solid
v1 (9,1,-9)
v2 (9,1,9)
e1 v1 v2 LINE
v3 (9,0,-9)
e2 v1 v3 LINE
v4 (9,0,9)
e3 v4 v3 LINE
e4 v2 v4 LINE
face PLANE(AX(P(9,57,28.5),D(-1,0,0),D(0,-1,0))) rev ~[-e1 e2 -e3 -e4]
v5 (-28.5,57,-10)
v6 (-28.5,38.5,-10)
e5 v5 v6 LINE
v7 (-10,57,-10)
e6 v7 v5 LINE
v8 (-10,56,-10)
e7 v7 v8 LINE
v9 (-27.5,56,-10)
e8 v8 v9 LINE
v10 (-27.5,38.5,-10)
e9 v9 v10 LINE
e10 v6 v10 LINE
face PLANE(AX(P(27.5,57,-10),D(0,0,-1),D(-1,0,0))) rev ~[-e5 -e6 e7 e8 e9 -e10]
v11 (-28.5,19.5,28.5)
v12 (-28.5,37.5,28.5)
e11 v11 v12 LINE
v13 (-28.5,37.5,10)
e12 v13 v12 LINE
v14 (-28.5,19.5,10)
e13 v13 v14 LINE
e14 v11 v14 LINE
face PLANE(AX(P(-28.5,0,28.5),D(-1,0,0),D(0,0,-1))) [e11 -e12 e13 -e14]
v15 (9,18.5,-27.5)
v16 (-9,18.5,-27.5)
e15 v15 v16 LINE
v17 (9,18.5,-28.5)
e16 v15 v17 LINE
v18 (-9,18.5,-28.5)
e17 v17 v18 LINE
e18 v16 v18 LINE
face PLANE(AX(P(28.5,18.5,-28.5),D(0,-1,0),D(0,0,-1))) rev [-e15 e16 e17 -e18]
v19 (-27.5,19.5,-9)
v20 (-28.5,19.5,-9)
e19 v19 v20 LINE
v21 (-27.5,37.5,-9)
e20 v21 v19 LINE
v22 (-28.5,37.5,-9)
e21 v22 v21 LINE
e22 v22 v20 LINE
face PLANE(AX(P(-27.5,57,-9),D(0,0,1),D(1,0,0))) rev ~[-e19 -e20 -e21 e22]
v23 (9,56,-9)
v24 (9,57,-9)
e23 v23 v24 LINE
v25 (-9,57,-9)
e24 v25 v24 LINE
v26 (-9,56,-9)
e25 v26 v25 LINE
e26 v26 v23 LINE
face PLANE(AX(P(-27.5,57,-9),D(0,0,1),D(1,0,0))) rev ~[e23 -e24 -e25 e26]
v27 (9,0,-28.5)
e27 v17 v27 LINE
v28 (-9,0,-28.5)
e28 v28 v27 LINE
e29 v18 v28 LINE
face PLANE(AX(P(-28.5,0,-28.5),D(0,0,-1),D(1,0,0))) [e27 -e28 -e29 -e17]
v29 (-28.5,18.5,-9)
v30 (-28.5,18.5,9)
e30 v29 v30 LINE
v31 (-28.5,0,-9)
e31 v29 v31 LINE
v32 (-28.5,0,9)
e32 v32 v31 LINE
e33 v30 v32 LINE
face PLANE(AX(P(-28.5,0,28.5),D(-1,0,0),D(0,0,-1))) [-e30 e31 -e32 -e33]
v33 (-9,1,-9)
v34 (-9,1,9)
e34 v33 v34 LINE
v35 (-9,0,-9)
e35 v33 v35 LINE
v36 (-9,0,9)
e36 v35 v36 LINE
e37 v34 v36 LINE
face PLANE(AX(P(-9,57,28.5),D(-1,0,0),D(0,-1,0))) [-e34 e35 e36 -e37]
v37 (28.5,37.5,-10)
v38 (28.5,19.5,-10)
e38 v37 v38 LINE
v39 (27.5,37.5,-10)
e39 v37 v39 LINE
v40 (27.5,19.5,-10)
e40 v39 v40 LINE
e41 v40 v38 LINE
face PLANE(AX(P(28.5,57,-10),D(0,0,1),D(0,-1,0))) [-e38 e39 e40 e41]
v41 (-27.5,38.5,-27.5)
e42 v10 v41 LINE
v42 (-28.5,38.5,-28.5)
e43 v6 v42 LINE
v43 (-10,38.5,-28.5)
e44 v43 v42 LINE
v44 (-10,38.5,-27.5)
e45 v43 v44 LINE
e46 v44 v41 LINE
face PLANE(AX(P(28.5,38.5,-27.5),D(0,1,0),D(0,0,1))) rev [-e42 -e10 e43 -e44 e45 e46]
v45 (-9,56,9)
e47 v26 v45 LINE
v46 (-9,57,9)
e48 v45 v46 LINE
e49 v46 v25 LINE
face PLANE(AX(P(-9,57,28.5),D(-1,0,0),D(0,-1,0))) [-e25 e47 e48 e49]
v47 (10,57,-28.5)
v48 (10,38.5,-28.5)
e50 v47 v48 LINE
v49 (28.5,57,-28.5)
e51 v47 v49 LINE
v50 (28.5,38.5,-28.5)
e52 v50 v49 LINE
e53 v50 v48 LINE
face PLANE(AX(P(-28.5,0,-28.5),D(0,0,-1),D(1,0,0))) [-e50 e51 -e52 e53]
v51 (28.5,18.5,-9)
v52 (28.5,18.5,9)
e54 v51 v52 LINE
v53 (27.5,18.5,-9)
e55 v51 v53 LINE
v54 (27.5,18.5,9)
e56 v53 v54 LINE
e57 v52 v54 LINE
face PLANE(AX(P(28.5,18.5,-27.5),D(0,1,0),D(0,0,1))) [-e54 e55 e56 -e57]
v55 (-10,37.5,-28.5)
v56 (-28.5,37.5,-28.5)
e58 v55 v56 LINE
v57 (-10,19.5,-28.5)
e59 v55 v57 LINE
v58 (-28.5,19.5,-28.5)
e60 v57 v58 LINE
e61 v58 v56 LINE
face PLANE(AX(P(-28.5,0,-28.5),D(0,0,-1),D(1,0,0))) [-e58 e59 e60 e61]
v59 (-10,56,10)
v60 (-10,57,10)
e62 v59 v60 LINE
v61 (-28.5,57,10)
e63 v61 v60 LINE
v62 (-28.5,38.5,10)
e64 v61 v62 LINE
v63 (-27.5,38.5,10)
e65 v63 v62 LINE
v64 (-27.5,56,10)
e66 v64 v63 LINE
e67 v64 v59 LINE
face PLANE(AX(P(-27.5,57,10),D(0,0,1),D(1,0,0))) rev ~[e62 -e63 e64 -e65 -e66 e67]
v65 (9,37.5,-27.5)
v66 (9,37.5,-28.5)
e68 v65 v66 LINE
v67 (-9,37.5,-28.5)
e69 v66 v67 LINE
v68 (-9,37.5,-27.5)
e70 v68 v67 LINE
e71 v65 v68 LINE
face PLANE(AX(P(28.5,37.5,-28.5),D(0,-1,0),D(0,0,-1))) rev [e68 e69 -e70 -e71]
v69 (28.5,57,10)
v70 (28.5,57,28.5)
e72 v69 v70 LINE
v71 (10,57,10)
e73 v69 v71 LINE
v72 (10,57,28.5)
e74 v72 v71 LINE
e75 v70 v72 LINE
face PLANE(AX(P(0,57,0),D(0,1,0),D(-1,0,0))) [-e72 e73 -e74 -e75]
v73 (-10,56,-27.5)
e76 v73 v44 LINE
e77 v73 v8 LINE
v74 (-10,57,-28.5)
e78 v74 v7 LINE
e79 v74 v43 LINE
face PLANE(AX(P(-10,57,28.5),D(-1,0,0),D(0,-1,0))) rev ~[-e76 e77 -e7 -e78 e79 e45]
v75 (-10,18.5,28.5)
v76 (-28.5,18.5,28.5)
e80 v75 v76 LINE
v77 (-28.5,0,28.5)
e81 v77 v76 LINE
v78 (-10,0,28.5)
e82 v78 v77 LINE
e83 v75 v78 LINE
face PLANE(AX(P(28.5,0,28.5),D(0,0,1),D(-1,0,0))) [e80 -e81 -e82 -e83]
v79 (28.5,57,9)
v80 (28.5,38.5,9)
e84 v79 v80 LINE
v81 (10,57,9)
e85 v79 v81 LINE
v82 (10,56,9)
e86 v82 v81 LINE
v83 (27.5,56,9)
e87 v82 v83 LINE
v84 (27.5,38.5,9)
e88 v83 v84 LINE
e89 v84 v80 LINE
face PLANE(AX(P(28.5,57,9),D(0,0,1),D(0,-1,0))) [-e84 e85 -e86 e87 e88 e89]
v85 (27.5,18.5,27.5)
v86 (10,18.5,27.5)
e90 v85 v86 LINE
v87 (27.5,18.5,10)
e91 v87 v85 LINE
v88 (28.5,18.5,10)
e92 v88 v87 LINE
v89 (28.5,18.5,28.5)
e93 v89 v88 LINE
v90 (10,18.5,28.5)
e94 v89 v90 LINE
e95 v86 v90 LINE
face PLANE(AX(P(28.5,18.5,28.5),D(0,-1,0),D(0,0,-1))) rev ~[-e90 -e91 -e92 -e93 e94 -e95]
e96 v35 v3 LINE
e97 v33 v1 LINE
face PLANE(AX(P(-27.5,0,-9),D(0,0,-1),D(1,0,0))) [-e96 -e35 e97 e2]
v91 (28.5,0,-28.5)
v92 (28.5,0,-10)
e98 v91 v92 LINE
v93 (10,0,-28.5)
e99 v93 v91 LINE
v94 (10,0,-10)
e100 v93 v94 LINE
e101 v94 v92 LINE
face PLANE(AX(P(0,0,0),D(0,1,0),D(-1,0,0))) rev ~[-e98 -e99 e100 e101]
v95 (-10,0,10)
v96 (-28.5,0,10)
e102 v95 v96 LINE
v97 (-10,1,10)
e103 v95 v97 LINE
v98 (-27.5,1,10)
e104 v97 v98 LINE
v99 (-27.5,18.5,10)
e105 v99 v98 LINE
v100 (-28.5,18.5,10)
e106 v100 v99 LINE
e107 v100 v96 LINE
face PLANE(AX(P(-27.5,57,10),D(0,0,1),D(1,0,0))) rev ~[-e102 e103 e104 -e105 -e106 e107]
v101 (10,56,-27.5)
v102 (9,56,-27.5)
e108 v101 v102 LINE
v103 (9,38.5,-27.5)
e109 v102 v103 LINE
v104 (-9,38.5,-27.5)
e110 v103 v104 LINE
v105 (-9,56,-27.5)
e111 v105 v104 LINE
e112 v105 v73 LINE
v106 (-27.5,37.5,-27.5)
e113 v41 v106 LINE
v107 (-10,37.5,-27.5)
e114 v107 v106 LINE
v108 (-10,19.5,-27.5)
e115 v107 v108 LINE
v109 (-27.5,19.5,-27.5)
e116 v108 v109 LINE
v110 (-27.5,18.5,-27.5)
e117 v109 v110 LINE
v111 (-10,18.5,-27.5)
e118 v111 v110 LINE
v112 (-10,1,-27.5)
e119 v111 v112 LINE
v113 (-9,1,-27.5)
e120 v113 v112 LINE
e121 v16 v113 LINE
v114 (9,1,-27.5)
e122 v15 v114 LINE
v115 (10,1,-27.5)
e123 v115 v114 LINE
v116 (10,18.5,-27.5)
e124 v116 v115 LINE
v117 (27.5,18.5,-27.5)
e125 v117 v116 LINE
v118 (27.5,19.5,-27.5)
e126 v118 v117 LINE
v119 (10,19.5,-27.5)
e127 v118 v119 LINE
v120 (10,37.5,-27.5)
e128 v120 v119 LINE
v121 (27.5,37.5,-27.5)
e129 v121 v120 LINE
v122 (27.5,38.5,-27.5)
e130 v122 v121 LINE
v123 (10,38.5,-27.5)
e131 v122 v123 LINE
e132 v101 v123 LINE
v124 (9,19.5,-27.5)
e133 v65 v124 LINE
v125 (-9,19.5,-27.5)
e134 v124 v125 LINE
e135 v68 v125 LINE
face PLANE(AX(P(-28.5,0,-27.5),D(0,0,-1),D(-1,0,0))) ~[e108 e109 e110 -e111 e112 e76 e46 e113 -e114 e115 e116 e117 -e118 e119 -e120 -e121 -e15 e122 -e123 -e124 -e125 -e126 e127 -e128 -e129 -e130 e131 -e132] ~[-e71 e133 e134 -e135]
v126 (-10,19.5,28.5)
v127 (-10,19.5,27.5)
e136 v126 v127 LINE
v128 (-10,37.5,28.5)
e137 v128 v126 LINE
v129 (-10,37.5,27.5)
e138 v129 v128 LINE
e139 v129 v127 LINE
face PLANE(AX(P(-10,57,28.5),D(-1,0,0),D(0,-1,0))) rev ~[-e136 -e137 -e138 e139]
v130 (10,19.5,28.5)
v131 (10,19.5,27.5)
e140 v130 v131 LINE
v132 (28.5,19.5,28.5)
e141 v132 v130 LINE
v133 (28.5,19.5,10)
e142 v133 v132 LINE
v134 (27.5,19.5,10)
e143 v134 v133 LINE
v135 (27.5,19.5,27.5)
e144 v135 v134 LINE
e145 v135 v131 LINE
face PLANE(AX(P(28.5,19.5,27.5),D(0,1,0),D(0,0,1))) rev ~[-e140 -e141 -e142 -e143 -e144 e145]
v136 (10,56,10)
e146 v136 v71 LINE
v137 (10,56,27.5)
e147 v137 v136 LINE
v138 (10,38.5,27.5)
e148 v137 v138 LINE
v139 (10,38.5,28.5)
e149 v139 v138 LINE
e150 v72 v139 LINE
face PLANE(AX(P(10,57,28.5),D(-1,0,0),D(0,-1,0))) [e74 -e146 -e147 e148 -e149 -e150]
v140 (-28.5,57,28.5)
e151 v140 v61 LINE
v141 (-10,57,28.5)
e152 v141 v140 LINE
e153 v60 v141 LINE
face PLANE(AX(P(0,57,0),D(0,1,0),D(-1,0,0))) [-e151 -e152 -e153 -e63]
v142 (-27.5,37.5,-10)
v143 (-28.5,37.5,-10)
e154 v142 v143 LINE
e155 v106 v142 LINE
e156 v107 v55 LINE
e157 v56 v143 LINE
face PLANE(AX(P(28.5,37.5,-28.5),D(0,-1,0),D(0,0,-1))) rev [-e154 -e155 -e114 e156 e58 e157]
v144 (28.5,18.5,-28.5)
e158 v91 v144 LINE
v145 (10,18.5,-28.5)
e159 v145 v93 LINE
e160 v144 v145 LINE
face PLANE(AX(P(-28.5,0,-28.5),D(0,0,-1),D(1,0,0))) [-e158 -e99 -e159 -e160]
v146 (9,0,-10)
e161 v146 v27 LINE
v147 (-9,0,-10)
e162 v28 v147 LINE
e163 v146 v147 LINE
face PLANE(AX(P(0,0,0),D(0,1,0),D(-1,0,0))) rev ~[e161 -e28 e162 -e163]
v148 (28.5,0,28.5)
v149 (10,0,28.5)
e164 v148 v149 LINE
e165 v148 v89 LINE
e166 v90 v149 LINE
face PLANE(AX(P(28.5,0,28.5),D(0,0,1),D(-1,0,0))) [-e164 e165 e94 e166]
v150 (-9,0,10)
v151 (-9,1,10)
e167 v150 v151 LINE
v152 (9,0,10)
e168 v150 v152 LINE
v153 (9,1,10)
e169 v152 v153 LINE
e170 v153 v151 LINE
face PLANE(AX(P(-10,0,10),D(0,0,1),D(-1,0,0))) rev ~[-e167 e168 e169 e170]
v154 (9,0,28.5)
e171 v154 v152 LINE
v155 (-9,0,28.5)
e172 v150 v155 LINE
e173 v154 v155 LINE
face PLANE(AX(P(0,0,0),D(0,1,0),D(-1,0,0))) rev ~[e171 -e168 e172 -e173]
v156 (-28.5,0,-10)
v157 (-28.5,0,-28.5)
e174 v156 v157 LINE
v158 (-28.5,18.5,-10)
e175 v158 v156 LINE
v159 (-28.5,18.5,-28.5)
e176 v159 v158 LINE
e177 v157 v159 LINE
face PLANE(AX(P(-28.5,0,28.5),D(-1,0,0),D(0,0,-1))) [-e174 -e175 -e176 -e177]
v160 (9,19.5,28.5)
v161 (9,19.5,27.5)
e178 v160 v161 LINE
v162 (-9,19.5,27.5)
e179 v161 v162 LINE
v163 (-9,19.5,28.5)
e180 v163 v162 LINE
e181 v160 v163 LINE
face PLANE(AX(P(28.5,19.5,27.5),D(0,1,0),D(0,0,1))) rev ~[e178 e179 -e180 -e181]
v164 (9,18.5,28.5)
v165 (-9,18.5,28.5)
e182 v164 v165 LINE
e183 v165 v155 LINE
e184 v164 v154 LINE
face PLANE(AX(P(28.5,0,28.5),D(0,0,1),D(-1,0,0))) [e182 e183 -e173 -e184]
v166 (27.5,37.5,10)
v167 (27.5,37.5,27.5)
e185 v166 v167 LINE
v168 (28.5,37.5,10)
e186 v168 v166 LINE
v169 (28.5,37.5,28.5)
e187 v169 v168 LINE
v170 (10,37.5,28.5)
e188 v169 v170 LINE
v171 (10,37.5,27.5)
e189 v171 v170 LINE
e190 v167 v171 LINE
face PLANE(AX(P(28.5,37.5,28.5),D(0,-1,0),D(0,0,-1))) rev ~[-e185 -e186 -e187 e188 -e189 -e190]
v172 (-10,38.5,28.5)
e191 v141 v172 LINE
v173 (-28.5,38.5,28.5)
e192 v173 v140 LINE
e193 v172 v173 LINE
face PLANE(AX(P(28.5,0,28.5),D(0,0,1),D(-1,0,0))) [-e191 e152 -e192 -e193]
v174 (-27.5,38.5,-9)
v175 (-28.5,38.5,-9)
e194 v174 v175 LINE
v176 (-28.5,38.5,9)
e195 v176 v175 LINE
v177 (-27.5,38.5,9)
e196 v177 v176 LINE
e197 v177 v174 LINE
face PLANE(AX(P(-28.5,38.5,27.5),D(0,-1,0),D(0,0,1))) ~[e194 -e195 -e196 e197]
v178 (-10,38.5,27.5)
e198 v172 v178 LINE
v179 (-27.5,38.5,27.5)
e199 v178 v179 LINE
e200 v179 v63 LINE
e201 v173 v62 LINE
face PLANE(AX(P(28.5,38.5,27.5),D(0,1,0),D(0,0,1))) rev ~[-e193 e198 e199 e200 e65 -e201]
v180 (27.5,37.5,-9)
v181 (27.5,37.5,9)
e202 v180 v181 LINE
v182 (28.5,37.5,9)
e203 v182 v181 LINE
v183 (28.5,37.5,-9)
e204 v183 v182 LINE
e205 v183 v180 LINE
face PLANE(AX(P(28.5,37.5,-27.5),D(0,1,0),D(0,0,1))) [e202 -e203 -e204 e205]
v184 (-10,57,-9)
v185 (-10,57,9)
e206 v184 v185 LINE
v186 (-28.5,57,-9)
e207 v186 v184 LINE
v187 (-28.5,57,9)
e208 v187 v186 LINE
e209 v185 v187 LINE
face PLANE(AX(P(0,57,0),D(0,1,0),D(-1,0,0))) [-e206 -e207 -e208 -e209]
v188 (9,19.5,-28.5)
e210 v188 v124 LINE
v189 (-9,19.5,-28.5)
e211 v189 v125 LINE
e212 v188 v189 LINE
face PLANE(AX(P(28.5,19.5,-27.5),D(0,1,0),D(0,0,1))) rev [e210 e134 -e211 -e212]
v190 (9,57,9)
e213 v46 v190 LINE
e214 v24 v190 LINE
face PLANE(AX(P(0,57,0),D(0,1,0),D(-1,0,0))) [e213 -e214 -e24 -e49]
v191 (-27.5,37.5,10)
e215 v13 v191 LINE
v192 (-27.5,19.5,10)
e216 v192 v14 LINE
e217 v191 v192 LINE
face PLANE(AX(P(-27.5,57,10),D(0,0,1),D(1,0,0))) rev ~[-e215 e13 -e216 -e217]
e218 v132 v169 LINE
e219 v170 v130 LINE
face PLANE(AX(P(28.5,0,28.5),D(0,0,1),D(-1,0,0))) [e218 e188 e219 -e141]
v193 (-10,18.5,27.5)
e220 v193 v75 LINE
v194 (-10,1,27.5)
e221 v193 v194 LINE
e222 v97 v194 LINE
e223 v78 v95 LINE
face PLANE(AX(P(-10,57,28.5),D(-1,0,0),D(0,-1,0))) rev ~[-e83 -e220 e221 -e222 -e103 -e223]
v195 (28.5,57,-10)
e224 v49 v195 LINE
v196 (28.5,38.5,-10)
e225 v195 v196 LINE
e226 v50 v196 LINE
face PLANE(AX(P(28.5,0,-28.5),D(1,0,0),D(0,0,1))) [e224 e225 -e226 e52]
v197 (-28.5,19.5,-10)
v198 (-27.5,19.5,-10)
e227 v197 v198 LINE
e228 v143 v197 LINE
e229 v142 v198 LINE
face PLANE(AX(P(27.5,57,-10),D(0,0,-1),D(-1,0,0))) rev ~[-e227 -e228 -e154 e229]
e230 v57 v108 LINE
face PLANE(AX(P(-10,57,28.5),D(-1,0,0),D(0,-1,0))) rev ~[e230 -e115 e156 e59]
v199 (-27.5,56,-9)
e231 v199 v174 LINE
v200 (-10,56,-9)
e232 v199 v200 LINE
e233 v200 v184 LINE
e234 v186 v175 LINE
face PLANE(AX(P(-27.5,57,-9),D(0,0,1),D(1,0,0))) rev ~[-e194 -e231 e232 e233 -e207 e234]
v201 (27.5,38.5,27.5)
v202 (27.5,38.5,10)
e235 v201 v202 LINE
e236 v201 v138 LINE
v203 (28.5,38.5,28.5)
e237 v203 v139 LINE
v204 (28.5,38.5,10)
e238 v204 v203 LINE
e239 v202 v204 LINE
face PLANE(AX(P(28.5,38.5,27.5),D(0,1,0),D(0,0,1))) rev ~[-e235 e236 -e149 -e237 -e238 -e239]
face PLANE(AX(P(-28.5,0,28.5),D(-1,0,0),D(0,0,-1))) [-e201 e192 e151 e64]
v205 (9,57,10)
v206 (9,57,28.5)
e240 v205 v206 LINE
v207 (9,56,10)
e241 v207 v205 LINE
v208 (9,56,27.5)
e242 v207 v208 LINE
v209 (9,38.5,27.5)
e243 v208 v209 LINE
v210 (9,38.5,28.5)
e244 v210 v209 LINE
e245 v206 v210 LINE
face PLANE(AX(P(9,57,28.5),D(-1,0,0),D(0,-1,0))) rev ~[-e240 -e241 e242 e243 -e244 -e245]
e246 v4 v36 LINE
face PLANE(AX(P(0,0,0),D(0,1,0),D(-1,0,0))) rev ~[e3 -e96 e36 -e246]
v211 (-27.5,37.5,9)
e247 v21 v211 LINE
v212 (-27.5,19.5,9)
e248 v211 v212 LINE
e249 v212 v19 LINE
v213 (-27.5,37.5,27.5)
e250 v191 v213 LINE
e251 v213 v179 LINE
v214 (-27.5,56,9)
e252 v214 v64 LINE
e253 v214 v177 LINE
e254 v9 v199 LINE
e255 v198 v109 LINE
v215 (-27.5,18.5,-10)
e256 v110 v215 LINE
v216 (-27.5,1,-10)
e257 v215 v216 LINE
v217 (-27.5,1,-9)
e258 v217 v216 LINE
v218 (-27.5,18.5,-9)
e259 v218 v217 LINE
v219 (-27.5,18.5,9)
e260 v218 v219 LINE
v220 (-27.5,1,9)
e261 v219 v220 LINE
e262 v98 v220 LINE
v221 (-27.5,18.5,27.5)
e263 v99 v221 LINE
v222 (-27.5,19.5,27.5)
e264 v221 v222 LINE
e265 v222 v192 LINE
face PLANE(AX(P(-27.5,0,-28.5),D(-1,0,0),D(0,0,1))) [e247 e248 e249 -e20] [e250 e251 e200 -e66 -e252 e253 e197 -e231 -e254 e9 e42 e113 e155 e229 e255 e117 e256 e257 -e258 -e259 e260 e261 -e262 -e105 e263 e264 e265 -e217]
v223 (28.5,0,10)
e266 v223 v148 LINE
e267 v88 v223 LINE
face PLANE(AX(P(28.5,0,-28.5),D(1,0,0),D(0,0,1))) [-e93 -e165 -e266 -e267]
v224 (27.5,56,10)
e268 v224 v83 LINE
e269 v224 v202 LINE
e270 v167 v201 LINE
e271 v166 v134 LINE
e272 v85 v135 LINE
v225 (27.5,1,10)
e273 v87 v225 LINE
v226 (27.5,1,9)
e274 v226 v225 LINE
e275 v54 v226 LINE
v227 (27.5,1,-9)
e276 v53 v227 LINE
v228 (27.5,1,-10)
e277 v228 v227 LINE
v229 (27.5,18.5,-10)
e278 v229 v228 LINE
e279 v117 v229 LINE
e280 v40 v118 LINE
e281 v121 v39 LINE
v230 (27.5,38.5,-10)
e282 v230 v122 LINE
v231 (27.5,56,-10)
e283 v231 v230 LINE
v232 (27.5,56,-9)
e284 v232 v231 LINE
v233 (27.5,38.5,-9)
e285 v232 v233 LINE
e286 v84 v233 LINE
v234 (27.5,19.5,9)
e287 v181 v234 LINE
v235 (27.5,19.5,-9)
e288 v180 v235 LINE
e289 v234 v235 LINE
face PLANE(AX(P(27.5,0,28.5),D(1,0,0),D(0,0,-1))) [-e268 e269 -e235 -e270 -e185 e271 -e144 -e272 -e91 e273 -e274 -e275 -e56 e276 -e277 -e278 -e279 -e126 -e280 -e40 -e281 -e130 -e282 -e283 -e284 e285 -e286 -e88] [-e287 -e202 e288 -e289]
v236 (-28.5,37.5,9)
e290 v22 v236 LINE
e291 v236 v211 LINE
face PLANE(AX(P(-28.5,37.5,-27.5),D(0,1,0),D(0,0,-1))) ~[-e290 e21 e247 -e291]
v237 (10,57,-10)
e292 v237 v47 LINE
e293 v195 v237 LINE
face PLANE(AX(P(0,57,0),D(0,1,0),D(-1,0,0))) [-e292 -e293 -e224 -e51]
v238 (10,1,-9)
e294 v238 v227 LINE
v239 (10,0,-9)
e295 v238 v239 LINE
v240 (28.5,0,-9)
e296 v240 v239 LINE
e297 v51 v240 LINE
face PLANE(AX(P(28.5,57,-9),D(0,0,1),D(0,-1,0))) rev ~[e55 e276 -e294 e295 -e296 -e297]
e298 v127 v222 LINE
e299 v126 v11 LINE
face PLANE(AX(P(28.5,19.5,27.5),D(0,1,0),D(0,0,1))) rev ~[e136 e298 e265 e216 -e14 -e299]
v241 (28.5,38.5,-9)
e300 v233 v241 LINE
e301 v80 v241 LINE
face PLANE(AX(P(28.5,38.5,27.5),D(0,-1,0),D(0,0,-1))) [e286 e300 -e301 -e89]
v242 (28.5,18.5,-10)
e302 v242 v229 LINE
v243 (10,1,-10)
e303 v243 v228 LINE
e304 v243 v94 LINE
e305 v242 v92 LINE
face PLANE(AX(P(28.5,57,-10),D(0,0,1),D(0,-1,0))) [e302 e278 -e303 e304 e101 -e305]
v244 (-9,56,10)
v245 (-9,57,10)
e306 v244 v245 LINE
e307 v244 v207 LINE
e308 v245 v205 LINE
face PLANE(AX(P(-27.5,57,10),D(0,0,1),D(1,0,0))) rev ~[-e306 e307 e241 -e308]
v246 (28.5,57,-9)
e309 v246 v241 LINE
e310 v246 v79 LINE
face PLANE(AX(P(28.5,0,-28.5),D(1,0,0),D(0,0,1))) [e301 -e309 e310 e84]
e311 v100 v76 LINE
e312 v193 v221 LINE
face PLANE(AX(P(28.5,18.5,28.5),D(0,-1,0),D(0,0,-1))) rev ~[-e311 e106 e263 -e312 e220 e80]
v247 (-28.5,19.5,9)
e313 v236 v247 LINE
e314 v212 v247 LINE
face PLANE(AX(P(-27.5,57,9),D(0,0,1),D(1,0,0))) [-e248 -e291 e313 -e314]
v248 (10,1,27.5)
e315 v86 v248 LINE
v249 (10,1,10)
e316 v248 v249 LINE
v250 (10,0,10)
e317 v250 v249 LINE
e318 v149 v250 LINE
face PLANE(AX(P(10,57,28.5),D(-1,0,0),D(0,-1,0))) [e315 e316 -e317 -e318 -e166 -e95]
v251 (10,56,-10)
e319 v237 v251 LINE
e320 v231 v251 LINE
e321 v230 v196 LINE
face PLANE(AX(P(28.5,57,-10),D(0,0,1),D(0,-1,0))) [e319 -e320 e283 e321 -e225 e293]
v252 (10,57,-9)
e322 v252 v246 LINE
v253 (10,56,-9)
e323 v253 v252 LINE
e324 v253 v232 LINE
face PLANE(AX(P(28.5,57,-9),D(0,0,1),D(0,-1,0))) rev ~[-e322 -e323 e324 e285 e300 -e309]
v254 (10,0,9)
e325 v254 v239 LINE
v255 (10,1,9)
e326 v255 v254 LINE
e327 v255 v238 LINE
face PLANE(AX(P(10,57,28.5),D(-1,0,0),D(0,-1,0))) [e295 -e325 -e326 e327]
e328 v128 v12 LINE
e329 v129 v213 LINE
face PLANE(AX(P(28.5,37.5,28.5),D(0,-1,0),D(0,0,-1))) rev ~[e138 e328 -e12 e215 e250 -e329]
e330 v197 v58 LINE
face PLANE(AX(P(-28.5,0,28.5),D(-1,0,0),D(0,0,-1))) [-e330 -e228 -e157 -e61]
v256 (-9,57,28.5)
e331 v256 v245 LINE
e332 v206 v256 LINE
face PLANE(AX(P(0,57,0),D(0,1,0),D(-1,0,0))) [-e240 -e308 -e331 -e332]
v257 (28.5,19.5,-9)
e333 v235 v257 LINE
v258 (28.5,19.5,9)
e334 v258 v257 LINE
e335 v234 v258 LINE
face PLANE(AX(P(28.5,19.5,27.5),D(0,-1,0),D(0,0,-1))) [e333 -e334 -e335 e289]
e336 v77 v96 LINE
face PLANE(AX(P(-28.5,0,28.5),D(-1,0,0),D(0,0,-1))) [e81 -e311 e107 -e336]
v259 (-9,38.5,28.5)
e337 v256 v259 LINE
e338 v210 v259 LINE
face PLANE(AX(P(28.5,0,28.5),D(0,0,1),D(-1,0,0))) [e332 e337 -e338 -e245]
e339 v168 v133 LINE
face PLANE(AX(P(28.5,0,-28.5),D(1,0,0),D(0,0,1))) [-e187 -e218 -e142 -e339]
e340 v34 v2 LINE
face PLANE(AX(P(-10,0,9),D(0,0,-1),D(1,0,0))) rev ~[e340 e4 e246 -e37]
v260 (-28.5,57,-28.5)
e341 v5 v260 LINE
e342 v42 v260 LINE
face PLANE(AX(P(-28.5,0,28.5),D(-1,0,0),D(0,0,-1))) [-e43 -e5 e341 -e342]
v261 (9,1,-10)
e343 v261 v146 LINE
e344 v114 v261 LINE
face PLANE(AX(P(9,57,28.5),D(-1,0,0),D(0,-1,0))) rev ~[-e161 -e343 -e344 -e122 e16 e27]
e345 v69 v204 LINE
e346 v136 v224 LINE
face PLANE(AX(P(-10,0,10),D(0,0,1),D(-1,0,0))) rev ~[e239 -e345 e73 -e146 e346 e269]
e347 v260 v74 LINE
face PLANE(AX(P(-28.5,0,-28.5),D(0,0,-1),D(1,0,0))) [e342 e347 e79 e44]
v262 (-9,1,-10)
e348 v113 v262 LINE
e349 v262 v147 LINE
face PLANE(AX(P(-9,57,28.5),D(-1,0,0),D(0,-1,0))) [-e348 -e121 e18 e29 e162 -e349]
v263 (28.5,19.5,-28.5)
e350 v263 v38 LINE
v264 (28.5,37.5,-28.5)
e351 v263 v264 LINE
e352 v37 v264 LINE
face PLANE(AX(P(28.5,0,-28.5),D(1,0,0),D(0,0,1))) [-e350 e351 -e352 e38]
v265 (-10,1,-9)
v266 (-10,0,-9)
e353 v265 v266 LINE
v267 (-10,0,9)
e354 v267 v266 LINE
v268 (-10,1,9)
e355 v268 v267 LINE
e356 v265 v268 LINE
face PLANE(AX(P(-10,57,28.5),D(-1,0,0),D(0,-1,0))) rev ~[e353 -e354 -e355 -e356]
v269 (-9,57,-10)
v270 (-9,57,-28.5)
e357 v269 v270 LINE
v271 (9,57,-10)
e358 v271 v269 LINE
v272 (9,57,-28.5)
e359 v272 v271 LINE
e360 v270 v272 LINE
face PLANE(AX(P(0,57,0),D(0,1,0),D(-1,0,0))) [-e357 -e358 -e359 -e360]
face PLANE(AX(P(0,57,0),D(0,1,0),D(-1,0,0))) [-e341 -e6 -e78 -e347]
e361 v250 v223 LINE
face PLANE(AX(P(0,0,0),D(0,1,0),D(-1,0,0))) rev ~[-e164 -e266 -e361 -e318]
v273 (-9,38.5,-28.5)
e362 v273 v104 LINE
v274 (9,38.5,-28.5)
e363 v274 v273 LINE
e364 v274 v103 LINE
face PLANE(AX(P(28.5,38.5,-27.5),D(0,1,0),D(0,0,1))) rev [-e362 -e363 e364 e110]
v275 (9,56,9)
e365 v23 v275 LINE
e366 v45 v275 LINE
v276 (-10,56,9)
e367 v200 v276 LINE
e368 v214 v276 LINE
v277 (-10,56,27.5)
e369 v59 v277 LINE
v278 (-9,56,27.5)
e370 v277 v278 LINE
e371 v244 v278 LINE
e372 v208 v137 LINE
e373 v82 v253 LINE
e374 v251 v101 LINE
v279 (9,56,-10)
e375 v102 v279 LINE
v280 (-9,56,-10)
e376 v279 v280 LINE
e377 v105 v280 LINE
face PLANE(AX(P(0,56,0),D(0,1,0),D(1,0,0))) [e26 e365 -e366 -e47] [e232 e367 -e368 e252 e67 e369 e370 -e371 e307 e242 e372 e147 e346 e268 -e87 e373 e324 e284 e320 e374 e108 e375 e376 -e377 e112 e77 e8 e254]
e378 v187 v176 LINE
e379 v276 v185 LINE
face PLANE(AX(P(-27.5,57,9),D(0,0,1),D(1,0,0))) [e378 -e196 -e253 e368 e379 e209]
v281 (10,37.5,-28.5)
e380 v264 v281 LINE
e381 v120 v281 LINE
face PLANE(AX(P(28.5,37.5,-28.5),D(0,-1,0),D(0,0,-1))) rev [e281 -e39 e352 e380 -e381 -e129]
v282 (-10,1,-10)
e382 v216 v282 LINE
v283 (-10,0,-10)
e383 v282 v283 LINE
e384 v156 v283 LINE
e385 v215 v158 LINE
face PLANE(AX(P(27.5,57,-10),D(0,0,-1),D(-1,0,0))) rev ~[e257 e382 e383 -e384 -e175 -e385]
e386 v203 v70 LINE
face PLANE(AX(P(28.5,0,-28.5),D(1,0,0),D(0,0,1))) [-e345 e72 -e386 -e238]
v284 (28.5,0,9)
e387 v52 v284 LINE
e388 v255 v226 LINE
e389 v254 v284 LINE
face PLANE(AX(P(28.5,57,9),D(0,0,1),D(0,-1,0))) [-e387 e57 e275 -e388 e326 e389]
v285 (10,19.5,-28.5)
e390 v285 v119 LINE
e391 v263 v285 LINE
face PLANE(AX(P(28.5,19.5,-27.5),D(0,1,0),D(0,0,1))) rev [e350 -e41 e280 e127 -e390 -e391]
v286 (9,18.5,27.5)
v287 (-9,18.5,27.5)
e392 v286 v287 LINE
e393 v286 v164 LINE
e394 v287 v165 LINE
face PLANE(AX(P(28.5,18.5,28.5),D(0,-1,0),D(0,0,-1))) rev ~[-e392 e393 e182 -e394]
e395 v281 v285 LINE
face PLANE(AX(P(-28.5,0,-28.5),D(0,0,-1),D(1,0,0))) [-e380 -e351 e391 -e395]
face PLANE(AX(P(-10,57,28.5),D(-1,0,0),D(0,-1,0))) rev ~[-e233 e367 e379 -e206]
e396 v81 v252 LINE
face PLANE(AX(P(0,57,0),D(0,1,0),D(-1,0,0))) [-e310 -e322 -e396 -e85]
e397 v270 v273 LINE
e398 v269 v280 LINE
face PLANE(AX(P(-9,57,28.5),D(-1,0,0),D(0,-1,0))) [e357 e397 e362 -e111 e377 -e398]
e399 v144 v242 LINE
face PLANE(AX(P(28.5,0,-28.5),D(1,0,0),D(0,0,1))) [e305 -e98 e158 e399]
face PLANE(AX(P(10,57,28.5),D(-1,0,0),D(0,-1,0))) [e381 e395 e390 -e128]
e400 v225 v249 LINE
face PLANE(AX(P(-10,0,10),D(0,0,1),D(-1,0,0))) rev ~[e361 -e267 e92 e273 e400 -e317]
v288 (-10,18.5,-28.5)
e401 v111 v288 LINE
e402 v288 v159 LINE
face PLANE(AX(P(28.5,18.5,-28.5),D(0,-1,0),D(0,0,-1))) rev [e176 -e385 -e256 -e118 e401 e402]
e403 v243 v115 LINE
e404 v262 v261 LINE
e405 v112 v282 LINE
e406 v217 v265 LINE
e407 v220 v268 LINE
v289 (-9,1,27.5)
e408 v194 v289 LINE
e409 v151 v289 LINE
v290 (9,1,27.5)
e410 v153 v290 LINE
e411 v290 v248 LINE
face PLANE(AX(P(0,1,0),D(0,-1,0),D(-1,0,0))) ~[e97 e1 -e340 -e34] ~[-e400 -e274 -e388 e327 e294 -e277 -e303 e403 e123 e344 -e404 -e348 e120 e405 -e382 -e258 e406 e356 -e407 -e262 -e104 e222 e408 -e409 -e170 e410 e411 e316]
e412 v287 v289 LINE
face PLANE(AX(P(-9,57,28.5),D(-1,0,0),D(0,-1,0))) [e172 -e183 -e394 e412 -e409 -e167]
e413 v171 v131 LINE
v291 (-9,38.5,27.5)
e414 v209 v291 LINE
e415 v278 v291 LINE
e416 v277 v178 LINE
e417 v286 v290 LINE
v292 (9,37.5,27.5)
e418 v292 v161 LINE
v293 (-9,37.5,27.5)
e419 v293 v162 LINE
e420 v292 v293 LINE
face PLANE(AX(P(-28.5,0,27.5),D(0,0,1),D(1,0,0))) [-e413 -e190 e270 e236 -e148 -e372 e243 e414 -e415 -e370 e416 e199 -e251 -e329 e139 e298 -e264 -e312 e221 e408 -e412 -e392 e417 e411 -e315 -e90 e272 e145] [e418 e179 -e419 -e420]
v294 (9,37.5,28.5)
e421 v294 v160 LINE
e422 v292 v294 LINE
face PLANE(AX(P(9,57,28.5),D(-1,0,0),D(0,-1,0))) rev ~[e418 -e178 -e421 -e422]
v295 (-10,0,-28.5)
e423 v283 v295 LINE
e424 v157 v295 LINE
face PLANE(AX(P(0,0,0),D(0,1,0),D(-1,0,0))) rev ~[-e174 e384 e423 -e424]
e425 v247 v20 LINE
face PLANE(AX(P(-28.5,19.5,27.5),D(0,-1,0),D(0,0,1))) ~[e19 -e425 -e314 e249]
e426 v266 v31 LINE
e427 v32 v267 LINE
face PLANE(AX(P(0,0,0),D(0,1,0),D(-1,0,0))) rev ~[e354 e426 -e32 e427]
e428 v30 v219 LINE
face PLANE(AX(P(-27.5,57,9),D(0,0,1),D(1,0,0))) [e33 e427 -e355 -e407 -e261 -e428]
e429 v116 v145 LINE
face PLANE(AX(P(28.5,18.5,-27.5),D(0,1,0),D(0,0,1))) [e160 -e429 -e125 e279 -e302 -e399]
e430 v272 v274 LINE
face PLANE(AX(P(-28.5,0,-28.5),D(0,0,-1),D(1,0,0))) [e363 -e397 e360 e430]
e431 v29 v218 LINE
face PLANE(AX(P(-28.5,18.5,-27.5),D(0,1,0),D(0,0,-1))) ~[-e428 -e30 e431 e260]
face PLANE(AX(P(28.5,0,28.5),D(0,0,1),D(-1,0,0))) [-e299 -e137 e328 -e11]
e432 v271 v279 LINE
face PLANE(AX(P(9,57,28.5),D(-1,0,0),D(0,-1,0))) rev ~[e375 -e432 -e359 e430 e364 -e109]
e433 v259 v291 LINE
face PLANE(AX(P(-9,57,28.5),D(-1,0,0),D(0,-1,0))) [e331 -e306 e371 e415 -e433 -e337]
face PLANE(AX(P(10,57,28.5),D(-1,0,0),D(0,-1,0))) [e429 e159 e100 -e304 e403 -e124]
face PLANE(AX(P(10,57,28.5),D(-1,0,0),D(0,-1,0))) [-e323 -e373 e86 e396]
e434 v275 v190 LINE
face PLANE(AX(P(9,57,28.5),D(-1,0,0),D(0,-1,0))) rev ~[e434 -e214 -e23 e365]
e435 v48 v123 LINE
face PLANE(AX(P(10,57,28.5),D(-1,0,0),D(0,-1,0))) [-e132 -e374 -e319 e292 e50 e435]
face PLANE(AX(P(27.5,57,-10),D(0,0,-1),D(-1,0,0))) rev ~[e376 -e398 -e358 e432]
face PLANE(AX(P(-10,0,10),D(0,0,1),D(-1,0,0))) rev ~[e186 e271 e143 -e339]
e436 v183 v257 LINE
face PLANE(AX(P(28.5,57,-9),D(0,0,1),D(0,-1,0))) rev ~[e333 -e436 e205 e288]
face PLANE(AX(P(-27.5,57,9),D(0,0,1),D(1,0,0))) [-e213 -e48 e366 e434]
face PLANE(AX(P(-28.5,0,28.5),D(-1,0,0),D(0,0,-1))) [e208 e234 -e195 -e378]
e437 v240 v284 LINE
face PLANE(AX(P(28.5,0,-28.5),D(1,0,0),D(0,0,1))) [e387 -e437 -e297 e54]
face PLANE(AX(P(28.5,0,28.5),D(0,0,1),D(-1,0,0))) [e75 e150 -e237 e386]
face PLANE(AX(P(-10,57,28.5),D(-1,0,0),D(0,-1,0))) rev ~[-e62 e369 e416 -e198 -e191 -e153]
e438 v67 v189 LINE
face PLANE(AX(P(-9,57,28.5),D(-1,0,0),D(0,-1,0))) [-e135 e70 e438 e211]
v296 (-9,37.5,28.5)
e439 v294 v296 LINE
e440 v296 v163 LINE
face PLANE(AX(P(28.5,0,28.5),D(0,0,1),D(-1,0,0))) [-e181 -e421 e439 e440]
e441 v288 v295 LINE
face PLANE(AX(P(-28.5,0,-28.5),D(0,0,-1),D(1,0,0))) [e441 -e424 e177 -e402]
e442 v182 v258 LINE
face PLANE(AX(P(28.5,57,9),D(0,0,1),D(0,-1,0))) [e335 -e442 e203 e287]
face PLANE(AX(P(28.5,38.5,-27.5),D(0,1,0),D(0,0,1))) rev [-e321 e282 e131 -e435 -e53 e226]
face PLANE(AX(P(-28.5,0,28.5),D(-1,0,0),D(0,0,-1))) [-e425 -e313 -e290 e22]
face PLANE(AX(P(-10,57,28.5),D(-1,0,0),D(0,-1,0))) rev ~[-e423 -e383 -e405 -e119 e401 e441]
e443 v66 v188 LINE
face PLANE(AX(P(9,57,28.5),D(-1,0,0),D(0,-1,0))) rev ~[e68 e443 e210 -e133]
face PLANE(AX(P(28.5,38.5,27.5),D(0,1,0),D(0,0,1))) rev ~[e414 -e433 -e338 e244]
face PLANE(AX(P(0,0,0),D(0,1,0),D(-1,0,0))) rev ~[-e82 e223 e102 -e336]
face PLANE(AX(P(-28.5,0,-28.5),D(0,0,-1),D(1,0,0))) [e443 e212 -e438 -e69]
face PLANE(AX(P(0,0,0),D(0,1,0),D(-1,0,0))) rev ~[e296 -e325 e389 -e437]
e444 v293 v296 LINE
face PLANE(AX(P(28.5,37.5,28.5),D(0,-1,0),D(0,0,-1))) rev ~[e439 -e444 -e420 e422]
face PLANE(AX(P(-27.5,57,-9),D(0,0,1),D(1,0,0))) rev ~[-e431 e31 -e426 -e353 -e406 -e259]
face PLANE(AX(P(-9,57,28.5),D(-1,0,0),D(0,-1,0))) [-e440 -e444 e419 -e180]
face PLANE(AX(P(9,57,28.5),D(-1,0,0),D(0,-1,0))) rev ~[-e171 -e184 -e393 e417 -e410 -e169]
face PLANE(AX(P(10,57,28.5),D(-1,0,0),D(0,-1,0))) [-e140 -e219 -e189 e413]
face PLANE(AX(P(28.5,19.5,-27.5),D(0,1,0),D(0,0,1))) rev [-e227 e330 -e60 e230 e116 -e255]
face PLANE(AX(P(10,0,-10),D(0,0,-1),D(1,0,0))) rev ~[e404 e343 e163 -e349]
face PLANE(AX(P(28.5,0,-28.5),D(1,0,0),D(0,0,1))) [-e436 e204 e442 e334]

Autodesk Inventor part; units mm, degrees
ref_plane "YZ Plane" through (0, 0, 0) normal (1, 0, 0) x (0, 1, 0)
ref_plane "XY Plane" through (0, 0, 0) normal (0, 0, 1) x (1, 0, 0)
sketch "草图1" plane through (0, 0, 0) normal (0, 1, 0) x (-1, 0, 0)
  line L0 (-28.5, 28.5) -> (28.5, 28.5)
  line L1 (28.5, 28.5) -> (28.5, -28.5)
  line L2 (28.5, -28.5) -> (-28.5, -28.5)
  line L3 (-28.5, -28.5) -> (-28.5, 28.5)
  line L4 (-28.5, 28.5) -> (28.5, -28.5) construction
  line L5 (28.5, 28.5) -> (-28.5, -28.5) construction
  point P0 (0, 0)
  dimension "d0" = 57
extrude "拉伸1" add sketch "草图1" along normal blind 57
sketch "草图2" plane through (-28.5, 0, 28.5) normal (0, 0, 1) x (1, 0, 0)
  line L0 (57, 0) -> (0, 0) projected
  line L1 (57, 0) -> (57, 57) projected
  line L2 (0, 57) -> (57, 57) projected
  line L3 (0, 0) -> (0, 57) projected
  line L4 (0, 57) -> (57, 57) projected
  line L5 (18.5, 57) -> (18.5, 0)
  line L6 (57, 0) -> (0, 0) projected
  line L7 (19.5, 57) -> (19.5, 0)
  line L8 (37.5, 57) -> (37.5, 0)
  line L9 (38.5, 57) -> (38.5, 0)
  point P0 (28.5, 0)
  dimension "d3" = 18.5
  dimension "d4" = 1
  dimension "d5" = 1
  dimension "d6" = 18.5
extrude "拉伸2" cut sketch "草图2" against normal blind 1 contours L0 L8 L2 L9 | L0 L5 L2 L7
mirror "镜像1" about plane through (0, 0, 0) normal (0, 0, 1) of "拉伸2"
sketch "草图3" plane through (0, 57, 0) normal (0, 1, 0) x (1, 0, 0)
  line L0 (-9, 27.5) -> (-10, 27.5) projected
  line L1 (10, 27.5) -> (9, 27.5) projected
  line L2 (-10, -27.5) -> (-9, -27.5) projected
  line L3 (9, -27.5) -> (10, -27.5) projected
  line L4 (-10, 27.5) -> (-10, -27.5)
  line L5 (-9, 27.5) -> (-9, -27.5)
  line L6 (9, 27.5) -> (9, -27.5)
  line L7 (28.5, -28.5) -> (10, -28.5) projected
  line L8 (10, -27.5) -> (9, -27.5) projected
  line L9 (10, -27.5) -> (10, 27.5)
  point P0 (0, 0)
extrude "拉伸3" cut sketch "草图3" against normal blind 1
ref_plane "工作平面1" through (0, 28.5, 0) normal (0, 1, 0) x (-1, 0, 0)
mirror "镜像2" about plane through (0, 28.5, 0) normal (0, 1, 0) of "拉伸3"
pattern_circular "环形阵列1" count 4 over 360 about axis through (0, -10, 0) along (0, 1, 0) of "拉伸3"
pattern_circular "环形阵列2" count 4 over 360 about axis through (0, -10, 0) along (0, 1, 0) of "拉伸2"
sketch "草图4" plane through (0, 0, 0) normal (0, -1, 0) x (1, 0, 0)
  line L0 (-27.5, -9) -> (-27.5, -10) projected
  line L1 (-27.5, 10) -> (-27.5, 9) projected
  line L2 (27.5, 9) -> (27.5, 10) projected
  line L3 (27.5, -10) -> (27.5, -9) projected
  line L4 (10, -10) -> (27.5, -10) projected
  line L5 (-27.5, -10) -> (27.5, -10)
  line L6 (27.5, -10) -> (27.5, -9)
  line L7 (-27.5, -9) -> (27.5, -9)
  line L8 (-27.5, 9) -> (-10, 9) projected
  line L9 (-27.5, 9) -> (27.5, 9)
  line L10 (-10, 10) -> (-27.5, 10) projected
  line L11 (27.5, 10) -> (-27.5, 10)
  point P0 (0, 0)
extrude "拉伸4" cut sketch "草图4" against normal blind 1
pattern_circular "环形阵列3" count 4 over 360 about axis through (0, -10, 0) along (0, 1, 0) of "拉伸2", "环形阵列2"
sketch "草图5" plane through (28.5, 0, 9) normal (1, 0, 0) x (0, 0, -1)
  line L0 (-19.5, 0) -> (-19.5, 57) projected
  line L1 (-18.5, 56) -> (-18.5, 1) projected
  line L2 (-19.5, 18.5) -> (-18.5, 18.5)
  line L3 (-18.5, 18.5) -> (-18.5, 19.5)
  line L4 (-18.5, 19.5) -> (-19.5, 19.5)
  line L5 (-19.5, 19.5) -> (-19.5, 18.5)
  line L6 (-19.5, 37.5) -> (-18.5, 37.5)
  line L7 (-18.5, 37.5) -> (-18.5, 38.5)
  line L8 (-18.5, 38.5) -> (-19.5, 38.5)
  line L9 (-19.5, 38.5) -> (-19.5, 37.5)
  line L10 (-1, 0) -> (-19.5, 0) projected
  line L11 (-19.5, 57) -> (-1, 57) projected
  point P0 (9, 0)
  dimension "d23" = 1
  dimension "d24" = 18.5
  dimension "d25" = 1
  dimension "d26" = 18.5
extrude "拉伸5" cut sketch "草图5" against normal blind 60 contours L0 L4 L1 L2 | L0 L8 L1 L6
mirror "镜像3" about plane through (0, 0, 0) normal (0, 0, 1) of "拉伸5"
sketch "草图6" plane through (28.5, 0, 28.5) normal (1, 0, 0) x (0, 0, -1)
  line L0 (1, 38.5) -> (56, 38.5)
  line L1 (56, 38.5) -> (56, 37.5)
  line L2 (56, 37.5) -> (1, 37.5)
  line L3 (1, 37.5) -> (1, 38.5)
  line L4 (1, 18.5) -> (1, 19.5) projected
  line L5 (1, 19.5) -> (56, 19.5)
  line L6 (56, 19.5) -> (56, 18.5)
  line L7 (56, 18.5) -> (1, 18.5)
  line L8 (1, 18.5) -> (1, 19.5)
  point P0 (28.5, 0)
extrude "拉伸6" cut sketch "草图6" against normal blind 1
mirror "镜像4" about plane through (0, 0, 0) normal (1, 0, 0) of "拉伸6"
ref_plane "工作平面2" through (0, 0, 0) normal (0, 0, 1) x (1, 0, 0)
ref_plane "工作平面3" through (0, 0, 0) normal (1, 0, 0) x (0, 1, 0)
properties part number "魔方_状态解释"
